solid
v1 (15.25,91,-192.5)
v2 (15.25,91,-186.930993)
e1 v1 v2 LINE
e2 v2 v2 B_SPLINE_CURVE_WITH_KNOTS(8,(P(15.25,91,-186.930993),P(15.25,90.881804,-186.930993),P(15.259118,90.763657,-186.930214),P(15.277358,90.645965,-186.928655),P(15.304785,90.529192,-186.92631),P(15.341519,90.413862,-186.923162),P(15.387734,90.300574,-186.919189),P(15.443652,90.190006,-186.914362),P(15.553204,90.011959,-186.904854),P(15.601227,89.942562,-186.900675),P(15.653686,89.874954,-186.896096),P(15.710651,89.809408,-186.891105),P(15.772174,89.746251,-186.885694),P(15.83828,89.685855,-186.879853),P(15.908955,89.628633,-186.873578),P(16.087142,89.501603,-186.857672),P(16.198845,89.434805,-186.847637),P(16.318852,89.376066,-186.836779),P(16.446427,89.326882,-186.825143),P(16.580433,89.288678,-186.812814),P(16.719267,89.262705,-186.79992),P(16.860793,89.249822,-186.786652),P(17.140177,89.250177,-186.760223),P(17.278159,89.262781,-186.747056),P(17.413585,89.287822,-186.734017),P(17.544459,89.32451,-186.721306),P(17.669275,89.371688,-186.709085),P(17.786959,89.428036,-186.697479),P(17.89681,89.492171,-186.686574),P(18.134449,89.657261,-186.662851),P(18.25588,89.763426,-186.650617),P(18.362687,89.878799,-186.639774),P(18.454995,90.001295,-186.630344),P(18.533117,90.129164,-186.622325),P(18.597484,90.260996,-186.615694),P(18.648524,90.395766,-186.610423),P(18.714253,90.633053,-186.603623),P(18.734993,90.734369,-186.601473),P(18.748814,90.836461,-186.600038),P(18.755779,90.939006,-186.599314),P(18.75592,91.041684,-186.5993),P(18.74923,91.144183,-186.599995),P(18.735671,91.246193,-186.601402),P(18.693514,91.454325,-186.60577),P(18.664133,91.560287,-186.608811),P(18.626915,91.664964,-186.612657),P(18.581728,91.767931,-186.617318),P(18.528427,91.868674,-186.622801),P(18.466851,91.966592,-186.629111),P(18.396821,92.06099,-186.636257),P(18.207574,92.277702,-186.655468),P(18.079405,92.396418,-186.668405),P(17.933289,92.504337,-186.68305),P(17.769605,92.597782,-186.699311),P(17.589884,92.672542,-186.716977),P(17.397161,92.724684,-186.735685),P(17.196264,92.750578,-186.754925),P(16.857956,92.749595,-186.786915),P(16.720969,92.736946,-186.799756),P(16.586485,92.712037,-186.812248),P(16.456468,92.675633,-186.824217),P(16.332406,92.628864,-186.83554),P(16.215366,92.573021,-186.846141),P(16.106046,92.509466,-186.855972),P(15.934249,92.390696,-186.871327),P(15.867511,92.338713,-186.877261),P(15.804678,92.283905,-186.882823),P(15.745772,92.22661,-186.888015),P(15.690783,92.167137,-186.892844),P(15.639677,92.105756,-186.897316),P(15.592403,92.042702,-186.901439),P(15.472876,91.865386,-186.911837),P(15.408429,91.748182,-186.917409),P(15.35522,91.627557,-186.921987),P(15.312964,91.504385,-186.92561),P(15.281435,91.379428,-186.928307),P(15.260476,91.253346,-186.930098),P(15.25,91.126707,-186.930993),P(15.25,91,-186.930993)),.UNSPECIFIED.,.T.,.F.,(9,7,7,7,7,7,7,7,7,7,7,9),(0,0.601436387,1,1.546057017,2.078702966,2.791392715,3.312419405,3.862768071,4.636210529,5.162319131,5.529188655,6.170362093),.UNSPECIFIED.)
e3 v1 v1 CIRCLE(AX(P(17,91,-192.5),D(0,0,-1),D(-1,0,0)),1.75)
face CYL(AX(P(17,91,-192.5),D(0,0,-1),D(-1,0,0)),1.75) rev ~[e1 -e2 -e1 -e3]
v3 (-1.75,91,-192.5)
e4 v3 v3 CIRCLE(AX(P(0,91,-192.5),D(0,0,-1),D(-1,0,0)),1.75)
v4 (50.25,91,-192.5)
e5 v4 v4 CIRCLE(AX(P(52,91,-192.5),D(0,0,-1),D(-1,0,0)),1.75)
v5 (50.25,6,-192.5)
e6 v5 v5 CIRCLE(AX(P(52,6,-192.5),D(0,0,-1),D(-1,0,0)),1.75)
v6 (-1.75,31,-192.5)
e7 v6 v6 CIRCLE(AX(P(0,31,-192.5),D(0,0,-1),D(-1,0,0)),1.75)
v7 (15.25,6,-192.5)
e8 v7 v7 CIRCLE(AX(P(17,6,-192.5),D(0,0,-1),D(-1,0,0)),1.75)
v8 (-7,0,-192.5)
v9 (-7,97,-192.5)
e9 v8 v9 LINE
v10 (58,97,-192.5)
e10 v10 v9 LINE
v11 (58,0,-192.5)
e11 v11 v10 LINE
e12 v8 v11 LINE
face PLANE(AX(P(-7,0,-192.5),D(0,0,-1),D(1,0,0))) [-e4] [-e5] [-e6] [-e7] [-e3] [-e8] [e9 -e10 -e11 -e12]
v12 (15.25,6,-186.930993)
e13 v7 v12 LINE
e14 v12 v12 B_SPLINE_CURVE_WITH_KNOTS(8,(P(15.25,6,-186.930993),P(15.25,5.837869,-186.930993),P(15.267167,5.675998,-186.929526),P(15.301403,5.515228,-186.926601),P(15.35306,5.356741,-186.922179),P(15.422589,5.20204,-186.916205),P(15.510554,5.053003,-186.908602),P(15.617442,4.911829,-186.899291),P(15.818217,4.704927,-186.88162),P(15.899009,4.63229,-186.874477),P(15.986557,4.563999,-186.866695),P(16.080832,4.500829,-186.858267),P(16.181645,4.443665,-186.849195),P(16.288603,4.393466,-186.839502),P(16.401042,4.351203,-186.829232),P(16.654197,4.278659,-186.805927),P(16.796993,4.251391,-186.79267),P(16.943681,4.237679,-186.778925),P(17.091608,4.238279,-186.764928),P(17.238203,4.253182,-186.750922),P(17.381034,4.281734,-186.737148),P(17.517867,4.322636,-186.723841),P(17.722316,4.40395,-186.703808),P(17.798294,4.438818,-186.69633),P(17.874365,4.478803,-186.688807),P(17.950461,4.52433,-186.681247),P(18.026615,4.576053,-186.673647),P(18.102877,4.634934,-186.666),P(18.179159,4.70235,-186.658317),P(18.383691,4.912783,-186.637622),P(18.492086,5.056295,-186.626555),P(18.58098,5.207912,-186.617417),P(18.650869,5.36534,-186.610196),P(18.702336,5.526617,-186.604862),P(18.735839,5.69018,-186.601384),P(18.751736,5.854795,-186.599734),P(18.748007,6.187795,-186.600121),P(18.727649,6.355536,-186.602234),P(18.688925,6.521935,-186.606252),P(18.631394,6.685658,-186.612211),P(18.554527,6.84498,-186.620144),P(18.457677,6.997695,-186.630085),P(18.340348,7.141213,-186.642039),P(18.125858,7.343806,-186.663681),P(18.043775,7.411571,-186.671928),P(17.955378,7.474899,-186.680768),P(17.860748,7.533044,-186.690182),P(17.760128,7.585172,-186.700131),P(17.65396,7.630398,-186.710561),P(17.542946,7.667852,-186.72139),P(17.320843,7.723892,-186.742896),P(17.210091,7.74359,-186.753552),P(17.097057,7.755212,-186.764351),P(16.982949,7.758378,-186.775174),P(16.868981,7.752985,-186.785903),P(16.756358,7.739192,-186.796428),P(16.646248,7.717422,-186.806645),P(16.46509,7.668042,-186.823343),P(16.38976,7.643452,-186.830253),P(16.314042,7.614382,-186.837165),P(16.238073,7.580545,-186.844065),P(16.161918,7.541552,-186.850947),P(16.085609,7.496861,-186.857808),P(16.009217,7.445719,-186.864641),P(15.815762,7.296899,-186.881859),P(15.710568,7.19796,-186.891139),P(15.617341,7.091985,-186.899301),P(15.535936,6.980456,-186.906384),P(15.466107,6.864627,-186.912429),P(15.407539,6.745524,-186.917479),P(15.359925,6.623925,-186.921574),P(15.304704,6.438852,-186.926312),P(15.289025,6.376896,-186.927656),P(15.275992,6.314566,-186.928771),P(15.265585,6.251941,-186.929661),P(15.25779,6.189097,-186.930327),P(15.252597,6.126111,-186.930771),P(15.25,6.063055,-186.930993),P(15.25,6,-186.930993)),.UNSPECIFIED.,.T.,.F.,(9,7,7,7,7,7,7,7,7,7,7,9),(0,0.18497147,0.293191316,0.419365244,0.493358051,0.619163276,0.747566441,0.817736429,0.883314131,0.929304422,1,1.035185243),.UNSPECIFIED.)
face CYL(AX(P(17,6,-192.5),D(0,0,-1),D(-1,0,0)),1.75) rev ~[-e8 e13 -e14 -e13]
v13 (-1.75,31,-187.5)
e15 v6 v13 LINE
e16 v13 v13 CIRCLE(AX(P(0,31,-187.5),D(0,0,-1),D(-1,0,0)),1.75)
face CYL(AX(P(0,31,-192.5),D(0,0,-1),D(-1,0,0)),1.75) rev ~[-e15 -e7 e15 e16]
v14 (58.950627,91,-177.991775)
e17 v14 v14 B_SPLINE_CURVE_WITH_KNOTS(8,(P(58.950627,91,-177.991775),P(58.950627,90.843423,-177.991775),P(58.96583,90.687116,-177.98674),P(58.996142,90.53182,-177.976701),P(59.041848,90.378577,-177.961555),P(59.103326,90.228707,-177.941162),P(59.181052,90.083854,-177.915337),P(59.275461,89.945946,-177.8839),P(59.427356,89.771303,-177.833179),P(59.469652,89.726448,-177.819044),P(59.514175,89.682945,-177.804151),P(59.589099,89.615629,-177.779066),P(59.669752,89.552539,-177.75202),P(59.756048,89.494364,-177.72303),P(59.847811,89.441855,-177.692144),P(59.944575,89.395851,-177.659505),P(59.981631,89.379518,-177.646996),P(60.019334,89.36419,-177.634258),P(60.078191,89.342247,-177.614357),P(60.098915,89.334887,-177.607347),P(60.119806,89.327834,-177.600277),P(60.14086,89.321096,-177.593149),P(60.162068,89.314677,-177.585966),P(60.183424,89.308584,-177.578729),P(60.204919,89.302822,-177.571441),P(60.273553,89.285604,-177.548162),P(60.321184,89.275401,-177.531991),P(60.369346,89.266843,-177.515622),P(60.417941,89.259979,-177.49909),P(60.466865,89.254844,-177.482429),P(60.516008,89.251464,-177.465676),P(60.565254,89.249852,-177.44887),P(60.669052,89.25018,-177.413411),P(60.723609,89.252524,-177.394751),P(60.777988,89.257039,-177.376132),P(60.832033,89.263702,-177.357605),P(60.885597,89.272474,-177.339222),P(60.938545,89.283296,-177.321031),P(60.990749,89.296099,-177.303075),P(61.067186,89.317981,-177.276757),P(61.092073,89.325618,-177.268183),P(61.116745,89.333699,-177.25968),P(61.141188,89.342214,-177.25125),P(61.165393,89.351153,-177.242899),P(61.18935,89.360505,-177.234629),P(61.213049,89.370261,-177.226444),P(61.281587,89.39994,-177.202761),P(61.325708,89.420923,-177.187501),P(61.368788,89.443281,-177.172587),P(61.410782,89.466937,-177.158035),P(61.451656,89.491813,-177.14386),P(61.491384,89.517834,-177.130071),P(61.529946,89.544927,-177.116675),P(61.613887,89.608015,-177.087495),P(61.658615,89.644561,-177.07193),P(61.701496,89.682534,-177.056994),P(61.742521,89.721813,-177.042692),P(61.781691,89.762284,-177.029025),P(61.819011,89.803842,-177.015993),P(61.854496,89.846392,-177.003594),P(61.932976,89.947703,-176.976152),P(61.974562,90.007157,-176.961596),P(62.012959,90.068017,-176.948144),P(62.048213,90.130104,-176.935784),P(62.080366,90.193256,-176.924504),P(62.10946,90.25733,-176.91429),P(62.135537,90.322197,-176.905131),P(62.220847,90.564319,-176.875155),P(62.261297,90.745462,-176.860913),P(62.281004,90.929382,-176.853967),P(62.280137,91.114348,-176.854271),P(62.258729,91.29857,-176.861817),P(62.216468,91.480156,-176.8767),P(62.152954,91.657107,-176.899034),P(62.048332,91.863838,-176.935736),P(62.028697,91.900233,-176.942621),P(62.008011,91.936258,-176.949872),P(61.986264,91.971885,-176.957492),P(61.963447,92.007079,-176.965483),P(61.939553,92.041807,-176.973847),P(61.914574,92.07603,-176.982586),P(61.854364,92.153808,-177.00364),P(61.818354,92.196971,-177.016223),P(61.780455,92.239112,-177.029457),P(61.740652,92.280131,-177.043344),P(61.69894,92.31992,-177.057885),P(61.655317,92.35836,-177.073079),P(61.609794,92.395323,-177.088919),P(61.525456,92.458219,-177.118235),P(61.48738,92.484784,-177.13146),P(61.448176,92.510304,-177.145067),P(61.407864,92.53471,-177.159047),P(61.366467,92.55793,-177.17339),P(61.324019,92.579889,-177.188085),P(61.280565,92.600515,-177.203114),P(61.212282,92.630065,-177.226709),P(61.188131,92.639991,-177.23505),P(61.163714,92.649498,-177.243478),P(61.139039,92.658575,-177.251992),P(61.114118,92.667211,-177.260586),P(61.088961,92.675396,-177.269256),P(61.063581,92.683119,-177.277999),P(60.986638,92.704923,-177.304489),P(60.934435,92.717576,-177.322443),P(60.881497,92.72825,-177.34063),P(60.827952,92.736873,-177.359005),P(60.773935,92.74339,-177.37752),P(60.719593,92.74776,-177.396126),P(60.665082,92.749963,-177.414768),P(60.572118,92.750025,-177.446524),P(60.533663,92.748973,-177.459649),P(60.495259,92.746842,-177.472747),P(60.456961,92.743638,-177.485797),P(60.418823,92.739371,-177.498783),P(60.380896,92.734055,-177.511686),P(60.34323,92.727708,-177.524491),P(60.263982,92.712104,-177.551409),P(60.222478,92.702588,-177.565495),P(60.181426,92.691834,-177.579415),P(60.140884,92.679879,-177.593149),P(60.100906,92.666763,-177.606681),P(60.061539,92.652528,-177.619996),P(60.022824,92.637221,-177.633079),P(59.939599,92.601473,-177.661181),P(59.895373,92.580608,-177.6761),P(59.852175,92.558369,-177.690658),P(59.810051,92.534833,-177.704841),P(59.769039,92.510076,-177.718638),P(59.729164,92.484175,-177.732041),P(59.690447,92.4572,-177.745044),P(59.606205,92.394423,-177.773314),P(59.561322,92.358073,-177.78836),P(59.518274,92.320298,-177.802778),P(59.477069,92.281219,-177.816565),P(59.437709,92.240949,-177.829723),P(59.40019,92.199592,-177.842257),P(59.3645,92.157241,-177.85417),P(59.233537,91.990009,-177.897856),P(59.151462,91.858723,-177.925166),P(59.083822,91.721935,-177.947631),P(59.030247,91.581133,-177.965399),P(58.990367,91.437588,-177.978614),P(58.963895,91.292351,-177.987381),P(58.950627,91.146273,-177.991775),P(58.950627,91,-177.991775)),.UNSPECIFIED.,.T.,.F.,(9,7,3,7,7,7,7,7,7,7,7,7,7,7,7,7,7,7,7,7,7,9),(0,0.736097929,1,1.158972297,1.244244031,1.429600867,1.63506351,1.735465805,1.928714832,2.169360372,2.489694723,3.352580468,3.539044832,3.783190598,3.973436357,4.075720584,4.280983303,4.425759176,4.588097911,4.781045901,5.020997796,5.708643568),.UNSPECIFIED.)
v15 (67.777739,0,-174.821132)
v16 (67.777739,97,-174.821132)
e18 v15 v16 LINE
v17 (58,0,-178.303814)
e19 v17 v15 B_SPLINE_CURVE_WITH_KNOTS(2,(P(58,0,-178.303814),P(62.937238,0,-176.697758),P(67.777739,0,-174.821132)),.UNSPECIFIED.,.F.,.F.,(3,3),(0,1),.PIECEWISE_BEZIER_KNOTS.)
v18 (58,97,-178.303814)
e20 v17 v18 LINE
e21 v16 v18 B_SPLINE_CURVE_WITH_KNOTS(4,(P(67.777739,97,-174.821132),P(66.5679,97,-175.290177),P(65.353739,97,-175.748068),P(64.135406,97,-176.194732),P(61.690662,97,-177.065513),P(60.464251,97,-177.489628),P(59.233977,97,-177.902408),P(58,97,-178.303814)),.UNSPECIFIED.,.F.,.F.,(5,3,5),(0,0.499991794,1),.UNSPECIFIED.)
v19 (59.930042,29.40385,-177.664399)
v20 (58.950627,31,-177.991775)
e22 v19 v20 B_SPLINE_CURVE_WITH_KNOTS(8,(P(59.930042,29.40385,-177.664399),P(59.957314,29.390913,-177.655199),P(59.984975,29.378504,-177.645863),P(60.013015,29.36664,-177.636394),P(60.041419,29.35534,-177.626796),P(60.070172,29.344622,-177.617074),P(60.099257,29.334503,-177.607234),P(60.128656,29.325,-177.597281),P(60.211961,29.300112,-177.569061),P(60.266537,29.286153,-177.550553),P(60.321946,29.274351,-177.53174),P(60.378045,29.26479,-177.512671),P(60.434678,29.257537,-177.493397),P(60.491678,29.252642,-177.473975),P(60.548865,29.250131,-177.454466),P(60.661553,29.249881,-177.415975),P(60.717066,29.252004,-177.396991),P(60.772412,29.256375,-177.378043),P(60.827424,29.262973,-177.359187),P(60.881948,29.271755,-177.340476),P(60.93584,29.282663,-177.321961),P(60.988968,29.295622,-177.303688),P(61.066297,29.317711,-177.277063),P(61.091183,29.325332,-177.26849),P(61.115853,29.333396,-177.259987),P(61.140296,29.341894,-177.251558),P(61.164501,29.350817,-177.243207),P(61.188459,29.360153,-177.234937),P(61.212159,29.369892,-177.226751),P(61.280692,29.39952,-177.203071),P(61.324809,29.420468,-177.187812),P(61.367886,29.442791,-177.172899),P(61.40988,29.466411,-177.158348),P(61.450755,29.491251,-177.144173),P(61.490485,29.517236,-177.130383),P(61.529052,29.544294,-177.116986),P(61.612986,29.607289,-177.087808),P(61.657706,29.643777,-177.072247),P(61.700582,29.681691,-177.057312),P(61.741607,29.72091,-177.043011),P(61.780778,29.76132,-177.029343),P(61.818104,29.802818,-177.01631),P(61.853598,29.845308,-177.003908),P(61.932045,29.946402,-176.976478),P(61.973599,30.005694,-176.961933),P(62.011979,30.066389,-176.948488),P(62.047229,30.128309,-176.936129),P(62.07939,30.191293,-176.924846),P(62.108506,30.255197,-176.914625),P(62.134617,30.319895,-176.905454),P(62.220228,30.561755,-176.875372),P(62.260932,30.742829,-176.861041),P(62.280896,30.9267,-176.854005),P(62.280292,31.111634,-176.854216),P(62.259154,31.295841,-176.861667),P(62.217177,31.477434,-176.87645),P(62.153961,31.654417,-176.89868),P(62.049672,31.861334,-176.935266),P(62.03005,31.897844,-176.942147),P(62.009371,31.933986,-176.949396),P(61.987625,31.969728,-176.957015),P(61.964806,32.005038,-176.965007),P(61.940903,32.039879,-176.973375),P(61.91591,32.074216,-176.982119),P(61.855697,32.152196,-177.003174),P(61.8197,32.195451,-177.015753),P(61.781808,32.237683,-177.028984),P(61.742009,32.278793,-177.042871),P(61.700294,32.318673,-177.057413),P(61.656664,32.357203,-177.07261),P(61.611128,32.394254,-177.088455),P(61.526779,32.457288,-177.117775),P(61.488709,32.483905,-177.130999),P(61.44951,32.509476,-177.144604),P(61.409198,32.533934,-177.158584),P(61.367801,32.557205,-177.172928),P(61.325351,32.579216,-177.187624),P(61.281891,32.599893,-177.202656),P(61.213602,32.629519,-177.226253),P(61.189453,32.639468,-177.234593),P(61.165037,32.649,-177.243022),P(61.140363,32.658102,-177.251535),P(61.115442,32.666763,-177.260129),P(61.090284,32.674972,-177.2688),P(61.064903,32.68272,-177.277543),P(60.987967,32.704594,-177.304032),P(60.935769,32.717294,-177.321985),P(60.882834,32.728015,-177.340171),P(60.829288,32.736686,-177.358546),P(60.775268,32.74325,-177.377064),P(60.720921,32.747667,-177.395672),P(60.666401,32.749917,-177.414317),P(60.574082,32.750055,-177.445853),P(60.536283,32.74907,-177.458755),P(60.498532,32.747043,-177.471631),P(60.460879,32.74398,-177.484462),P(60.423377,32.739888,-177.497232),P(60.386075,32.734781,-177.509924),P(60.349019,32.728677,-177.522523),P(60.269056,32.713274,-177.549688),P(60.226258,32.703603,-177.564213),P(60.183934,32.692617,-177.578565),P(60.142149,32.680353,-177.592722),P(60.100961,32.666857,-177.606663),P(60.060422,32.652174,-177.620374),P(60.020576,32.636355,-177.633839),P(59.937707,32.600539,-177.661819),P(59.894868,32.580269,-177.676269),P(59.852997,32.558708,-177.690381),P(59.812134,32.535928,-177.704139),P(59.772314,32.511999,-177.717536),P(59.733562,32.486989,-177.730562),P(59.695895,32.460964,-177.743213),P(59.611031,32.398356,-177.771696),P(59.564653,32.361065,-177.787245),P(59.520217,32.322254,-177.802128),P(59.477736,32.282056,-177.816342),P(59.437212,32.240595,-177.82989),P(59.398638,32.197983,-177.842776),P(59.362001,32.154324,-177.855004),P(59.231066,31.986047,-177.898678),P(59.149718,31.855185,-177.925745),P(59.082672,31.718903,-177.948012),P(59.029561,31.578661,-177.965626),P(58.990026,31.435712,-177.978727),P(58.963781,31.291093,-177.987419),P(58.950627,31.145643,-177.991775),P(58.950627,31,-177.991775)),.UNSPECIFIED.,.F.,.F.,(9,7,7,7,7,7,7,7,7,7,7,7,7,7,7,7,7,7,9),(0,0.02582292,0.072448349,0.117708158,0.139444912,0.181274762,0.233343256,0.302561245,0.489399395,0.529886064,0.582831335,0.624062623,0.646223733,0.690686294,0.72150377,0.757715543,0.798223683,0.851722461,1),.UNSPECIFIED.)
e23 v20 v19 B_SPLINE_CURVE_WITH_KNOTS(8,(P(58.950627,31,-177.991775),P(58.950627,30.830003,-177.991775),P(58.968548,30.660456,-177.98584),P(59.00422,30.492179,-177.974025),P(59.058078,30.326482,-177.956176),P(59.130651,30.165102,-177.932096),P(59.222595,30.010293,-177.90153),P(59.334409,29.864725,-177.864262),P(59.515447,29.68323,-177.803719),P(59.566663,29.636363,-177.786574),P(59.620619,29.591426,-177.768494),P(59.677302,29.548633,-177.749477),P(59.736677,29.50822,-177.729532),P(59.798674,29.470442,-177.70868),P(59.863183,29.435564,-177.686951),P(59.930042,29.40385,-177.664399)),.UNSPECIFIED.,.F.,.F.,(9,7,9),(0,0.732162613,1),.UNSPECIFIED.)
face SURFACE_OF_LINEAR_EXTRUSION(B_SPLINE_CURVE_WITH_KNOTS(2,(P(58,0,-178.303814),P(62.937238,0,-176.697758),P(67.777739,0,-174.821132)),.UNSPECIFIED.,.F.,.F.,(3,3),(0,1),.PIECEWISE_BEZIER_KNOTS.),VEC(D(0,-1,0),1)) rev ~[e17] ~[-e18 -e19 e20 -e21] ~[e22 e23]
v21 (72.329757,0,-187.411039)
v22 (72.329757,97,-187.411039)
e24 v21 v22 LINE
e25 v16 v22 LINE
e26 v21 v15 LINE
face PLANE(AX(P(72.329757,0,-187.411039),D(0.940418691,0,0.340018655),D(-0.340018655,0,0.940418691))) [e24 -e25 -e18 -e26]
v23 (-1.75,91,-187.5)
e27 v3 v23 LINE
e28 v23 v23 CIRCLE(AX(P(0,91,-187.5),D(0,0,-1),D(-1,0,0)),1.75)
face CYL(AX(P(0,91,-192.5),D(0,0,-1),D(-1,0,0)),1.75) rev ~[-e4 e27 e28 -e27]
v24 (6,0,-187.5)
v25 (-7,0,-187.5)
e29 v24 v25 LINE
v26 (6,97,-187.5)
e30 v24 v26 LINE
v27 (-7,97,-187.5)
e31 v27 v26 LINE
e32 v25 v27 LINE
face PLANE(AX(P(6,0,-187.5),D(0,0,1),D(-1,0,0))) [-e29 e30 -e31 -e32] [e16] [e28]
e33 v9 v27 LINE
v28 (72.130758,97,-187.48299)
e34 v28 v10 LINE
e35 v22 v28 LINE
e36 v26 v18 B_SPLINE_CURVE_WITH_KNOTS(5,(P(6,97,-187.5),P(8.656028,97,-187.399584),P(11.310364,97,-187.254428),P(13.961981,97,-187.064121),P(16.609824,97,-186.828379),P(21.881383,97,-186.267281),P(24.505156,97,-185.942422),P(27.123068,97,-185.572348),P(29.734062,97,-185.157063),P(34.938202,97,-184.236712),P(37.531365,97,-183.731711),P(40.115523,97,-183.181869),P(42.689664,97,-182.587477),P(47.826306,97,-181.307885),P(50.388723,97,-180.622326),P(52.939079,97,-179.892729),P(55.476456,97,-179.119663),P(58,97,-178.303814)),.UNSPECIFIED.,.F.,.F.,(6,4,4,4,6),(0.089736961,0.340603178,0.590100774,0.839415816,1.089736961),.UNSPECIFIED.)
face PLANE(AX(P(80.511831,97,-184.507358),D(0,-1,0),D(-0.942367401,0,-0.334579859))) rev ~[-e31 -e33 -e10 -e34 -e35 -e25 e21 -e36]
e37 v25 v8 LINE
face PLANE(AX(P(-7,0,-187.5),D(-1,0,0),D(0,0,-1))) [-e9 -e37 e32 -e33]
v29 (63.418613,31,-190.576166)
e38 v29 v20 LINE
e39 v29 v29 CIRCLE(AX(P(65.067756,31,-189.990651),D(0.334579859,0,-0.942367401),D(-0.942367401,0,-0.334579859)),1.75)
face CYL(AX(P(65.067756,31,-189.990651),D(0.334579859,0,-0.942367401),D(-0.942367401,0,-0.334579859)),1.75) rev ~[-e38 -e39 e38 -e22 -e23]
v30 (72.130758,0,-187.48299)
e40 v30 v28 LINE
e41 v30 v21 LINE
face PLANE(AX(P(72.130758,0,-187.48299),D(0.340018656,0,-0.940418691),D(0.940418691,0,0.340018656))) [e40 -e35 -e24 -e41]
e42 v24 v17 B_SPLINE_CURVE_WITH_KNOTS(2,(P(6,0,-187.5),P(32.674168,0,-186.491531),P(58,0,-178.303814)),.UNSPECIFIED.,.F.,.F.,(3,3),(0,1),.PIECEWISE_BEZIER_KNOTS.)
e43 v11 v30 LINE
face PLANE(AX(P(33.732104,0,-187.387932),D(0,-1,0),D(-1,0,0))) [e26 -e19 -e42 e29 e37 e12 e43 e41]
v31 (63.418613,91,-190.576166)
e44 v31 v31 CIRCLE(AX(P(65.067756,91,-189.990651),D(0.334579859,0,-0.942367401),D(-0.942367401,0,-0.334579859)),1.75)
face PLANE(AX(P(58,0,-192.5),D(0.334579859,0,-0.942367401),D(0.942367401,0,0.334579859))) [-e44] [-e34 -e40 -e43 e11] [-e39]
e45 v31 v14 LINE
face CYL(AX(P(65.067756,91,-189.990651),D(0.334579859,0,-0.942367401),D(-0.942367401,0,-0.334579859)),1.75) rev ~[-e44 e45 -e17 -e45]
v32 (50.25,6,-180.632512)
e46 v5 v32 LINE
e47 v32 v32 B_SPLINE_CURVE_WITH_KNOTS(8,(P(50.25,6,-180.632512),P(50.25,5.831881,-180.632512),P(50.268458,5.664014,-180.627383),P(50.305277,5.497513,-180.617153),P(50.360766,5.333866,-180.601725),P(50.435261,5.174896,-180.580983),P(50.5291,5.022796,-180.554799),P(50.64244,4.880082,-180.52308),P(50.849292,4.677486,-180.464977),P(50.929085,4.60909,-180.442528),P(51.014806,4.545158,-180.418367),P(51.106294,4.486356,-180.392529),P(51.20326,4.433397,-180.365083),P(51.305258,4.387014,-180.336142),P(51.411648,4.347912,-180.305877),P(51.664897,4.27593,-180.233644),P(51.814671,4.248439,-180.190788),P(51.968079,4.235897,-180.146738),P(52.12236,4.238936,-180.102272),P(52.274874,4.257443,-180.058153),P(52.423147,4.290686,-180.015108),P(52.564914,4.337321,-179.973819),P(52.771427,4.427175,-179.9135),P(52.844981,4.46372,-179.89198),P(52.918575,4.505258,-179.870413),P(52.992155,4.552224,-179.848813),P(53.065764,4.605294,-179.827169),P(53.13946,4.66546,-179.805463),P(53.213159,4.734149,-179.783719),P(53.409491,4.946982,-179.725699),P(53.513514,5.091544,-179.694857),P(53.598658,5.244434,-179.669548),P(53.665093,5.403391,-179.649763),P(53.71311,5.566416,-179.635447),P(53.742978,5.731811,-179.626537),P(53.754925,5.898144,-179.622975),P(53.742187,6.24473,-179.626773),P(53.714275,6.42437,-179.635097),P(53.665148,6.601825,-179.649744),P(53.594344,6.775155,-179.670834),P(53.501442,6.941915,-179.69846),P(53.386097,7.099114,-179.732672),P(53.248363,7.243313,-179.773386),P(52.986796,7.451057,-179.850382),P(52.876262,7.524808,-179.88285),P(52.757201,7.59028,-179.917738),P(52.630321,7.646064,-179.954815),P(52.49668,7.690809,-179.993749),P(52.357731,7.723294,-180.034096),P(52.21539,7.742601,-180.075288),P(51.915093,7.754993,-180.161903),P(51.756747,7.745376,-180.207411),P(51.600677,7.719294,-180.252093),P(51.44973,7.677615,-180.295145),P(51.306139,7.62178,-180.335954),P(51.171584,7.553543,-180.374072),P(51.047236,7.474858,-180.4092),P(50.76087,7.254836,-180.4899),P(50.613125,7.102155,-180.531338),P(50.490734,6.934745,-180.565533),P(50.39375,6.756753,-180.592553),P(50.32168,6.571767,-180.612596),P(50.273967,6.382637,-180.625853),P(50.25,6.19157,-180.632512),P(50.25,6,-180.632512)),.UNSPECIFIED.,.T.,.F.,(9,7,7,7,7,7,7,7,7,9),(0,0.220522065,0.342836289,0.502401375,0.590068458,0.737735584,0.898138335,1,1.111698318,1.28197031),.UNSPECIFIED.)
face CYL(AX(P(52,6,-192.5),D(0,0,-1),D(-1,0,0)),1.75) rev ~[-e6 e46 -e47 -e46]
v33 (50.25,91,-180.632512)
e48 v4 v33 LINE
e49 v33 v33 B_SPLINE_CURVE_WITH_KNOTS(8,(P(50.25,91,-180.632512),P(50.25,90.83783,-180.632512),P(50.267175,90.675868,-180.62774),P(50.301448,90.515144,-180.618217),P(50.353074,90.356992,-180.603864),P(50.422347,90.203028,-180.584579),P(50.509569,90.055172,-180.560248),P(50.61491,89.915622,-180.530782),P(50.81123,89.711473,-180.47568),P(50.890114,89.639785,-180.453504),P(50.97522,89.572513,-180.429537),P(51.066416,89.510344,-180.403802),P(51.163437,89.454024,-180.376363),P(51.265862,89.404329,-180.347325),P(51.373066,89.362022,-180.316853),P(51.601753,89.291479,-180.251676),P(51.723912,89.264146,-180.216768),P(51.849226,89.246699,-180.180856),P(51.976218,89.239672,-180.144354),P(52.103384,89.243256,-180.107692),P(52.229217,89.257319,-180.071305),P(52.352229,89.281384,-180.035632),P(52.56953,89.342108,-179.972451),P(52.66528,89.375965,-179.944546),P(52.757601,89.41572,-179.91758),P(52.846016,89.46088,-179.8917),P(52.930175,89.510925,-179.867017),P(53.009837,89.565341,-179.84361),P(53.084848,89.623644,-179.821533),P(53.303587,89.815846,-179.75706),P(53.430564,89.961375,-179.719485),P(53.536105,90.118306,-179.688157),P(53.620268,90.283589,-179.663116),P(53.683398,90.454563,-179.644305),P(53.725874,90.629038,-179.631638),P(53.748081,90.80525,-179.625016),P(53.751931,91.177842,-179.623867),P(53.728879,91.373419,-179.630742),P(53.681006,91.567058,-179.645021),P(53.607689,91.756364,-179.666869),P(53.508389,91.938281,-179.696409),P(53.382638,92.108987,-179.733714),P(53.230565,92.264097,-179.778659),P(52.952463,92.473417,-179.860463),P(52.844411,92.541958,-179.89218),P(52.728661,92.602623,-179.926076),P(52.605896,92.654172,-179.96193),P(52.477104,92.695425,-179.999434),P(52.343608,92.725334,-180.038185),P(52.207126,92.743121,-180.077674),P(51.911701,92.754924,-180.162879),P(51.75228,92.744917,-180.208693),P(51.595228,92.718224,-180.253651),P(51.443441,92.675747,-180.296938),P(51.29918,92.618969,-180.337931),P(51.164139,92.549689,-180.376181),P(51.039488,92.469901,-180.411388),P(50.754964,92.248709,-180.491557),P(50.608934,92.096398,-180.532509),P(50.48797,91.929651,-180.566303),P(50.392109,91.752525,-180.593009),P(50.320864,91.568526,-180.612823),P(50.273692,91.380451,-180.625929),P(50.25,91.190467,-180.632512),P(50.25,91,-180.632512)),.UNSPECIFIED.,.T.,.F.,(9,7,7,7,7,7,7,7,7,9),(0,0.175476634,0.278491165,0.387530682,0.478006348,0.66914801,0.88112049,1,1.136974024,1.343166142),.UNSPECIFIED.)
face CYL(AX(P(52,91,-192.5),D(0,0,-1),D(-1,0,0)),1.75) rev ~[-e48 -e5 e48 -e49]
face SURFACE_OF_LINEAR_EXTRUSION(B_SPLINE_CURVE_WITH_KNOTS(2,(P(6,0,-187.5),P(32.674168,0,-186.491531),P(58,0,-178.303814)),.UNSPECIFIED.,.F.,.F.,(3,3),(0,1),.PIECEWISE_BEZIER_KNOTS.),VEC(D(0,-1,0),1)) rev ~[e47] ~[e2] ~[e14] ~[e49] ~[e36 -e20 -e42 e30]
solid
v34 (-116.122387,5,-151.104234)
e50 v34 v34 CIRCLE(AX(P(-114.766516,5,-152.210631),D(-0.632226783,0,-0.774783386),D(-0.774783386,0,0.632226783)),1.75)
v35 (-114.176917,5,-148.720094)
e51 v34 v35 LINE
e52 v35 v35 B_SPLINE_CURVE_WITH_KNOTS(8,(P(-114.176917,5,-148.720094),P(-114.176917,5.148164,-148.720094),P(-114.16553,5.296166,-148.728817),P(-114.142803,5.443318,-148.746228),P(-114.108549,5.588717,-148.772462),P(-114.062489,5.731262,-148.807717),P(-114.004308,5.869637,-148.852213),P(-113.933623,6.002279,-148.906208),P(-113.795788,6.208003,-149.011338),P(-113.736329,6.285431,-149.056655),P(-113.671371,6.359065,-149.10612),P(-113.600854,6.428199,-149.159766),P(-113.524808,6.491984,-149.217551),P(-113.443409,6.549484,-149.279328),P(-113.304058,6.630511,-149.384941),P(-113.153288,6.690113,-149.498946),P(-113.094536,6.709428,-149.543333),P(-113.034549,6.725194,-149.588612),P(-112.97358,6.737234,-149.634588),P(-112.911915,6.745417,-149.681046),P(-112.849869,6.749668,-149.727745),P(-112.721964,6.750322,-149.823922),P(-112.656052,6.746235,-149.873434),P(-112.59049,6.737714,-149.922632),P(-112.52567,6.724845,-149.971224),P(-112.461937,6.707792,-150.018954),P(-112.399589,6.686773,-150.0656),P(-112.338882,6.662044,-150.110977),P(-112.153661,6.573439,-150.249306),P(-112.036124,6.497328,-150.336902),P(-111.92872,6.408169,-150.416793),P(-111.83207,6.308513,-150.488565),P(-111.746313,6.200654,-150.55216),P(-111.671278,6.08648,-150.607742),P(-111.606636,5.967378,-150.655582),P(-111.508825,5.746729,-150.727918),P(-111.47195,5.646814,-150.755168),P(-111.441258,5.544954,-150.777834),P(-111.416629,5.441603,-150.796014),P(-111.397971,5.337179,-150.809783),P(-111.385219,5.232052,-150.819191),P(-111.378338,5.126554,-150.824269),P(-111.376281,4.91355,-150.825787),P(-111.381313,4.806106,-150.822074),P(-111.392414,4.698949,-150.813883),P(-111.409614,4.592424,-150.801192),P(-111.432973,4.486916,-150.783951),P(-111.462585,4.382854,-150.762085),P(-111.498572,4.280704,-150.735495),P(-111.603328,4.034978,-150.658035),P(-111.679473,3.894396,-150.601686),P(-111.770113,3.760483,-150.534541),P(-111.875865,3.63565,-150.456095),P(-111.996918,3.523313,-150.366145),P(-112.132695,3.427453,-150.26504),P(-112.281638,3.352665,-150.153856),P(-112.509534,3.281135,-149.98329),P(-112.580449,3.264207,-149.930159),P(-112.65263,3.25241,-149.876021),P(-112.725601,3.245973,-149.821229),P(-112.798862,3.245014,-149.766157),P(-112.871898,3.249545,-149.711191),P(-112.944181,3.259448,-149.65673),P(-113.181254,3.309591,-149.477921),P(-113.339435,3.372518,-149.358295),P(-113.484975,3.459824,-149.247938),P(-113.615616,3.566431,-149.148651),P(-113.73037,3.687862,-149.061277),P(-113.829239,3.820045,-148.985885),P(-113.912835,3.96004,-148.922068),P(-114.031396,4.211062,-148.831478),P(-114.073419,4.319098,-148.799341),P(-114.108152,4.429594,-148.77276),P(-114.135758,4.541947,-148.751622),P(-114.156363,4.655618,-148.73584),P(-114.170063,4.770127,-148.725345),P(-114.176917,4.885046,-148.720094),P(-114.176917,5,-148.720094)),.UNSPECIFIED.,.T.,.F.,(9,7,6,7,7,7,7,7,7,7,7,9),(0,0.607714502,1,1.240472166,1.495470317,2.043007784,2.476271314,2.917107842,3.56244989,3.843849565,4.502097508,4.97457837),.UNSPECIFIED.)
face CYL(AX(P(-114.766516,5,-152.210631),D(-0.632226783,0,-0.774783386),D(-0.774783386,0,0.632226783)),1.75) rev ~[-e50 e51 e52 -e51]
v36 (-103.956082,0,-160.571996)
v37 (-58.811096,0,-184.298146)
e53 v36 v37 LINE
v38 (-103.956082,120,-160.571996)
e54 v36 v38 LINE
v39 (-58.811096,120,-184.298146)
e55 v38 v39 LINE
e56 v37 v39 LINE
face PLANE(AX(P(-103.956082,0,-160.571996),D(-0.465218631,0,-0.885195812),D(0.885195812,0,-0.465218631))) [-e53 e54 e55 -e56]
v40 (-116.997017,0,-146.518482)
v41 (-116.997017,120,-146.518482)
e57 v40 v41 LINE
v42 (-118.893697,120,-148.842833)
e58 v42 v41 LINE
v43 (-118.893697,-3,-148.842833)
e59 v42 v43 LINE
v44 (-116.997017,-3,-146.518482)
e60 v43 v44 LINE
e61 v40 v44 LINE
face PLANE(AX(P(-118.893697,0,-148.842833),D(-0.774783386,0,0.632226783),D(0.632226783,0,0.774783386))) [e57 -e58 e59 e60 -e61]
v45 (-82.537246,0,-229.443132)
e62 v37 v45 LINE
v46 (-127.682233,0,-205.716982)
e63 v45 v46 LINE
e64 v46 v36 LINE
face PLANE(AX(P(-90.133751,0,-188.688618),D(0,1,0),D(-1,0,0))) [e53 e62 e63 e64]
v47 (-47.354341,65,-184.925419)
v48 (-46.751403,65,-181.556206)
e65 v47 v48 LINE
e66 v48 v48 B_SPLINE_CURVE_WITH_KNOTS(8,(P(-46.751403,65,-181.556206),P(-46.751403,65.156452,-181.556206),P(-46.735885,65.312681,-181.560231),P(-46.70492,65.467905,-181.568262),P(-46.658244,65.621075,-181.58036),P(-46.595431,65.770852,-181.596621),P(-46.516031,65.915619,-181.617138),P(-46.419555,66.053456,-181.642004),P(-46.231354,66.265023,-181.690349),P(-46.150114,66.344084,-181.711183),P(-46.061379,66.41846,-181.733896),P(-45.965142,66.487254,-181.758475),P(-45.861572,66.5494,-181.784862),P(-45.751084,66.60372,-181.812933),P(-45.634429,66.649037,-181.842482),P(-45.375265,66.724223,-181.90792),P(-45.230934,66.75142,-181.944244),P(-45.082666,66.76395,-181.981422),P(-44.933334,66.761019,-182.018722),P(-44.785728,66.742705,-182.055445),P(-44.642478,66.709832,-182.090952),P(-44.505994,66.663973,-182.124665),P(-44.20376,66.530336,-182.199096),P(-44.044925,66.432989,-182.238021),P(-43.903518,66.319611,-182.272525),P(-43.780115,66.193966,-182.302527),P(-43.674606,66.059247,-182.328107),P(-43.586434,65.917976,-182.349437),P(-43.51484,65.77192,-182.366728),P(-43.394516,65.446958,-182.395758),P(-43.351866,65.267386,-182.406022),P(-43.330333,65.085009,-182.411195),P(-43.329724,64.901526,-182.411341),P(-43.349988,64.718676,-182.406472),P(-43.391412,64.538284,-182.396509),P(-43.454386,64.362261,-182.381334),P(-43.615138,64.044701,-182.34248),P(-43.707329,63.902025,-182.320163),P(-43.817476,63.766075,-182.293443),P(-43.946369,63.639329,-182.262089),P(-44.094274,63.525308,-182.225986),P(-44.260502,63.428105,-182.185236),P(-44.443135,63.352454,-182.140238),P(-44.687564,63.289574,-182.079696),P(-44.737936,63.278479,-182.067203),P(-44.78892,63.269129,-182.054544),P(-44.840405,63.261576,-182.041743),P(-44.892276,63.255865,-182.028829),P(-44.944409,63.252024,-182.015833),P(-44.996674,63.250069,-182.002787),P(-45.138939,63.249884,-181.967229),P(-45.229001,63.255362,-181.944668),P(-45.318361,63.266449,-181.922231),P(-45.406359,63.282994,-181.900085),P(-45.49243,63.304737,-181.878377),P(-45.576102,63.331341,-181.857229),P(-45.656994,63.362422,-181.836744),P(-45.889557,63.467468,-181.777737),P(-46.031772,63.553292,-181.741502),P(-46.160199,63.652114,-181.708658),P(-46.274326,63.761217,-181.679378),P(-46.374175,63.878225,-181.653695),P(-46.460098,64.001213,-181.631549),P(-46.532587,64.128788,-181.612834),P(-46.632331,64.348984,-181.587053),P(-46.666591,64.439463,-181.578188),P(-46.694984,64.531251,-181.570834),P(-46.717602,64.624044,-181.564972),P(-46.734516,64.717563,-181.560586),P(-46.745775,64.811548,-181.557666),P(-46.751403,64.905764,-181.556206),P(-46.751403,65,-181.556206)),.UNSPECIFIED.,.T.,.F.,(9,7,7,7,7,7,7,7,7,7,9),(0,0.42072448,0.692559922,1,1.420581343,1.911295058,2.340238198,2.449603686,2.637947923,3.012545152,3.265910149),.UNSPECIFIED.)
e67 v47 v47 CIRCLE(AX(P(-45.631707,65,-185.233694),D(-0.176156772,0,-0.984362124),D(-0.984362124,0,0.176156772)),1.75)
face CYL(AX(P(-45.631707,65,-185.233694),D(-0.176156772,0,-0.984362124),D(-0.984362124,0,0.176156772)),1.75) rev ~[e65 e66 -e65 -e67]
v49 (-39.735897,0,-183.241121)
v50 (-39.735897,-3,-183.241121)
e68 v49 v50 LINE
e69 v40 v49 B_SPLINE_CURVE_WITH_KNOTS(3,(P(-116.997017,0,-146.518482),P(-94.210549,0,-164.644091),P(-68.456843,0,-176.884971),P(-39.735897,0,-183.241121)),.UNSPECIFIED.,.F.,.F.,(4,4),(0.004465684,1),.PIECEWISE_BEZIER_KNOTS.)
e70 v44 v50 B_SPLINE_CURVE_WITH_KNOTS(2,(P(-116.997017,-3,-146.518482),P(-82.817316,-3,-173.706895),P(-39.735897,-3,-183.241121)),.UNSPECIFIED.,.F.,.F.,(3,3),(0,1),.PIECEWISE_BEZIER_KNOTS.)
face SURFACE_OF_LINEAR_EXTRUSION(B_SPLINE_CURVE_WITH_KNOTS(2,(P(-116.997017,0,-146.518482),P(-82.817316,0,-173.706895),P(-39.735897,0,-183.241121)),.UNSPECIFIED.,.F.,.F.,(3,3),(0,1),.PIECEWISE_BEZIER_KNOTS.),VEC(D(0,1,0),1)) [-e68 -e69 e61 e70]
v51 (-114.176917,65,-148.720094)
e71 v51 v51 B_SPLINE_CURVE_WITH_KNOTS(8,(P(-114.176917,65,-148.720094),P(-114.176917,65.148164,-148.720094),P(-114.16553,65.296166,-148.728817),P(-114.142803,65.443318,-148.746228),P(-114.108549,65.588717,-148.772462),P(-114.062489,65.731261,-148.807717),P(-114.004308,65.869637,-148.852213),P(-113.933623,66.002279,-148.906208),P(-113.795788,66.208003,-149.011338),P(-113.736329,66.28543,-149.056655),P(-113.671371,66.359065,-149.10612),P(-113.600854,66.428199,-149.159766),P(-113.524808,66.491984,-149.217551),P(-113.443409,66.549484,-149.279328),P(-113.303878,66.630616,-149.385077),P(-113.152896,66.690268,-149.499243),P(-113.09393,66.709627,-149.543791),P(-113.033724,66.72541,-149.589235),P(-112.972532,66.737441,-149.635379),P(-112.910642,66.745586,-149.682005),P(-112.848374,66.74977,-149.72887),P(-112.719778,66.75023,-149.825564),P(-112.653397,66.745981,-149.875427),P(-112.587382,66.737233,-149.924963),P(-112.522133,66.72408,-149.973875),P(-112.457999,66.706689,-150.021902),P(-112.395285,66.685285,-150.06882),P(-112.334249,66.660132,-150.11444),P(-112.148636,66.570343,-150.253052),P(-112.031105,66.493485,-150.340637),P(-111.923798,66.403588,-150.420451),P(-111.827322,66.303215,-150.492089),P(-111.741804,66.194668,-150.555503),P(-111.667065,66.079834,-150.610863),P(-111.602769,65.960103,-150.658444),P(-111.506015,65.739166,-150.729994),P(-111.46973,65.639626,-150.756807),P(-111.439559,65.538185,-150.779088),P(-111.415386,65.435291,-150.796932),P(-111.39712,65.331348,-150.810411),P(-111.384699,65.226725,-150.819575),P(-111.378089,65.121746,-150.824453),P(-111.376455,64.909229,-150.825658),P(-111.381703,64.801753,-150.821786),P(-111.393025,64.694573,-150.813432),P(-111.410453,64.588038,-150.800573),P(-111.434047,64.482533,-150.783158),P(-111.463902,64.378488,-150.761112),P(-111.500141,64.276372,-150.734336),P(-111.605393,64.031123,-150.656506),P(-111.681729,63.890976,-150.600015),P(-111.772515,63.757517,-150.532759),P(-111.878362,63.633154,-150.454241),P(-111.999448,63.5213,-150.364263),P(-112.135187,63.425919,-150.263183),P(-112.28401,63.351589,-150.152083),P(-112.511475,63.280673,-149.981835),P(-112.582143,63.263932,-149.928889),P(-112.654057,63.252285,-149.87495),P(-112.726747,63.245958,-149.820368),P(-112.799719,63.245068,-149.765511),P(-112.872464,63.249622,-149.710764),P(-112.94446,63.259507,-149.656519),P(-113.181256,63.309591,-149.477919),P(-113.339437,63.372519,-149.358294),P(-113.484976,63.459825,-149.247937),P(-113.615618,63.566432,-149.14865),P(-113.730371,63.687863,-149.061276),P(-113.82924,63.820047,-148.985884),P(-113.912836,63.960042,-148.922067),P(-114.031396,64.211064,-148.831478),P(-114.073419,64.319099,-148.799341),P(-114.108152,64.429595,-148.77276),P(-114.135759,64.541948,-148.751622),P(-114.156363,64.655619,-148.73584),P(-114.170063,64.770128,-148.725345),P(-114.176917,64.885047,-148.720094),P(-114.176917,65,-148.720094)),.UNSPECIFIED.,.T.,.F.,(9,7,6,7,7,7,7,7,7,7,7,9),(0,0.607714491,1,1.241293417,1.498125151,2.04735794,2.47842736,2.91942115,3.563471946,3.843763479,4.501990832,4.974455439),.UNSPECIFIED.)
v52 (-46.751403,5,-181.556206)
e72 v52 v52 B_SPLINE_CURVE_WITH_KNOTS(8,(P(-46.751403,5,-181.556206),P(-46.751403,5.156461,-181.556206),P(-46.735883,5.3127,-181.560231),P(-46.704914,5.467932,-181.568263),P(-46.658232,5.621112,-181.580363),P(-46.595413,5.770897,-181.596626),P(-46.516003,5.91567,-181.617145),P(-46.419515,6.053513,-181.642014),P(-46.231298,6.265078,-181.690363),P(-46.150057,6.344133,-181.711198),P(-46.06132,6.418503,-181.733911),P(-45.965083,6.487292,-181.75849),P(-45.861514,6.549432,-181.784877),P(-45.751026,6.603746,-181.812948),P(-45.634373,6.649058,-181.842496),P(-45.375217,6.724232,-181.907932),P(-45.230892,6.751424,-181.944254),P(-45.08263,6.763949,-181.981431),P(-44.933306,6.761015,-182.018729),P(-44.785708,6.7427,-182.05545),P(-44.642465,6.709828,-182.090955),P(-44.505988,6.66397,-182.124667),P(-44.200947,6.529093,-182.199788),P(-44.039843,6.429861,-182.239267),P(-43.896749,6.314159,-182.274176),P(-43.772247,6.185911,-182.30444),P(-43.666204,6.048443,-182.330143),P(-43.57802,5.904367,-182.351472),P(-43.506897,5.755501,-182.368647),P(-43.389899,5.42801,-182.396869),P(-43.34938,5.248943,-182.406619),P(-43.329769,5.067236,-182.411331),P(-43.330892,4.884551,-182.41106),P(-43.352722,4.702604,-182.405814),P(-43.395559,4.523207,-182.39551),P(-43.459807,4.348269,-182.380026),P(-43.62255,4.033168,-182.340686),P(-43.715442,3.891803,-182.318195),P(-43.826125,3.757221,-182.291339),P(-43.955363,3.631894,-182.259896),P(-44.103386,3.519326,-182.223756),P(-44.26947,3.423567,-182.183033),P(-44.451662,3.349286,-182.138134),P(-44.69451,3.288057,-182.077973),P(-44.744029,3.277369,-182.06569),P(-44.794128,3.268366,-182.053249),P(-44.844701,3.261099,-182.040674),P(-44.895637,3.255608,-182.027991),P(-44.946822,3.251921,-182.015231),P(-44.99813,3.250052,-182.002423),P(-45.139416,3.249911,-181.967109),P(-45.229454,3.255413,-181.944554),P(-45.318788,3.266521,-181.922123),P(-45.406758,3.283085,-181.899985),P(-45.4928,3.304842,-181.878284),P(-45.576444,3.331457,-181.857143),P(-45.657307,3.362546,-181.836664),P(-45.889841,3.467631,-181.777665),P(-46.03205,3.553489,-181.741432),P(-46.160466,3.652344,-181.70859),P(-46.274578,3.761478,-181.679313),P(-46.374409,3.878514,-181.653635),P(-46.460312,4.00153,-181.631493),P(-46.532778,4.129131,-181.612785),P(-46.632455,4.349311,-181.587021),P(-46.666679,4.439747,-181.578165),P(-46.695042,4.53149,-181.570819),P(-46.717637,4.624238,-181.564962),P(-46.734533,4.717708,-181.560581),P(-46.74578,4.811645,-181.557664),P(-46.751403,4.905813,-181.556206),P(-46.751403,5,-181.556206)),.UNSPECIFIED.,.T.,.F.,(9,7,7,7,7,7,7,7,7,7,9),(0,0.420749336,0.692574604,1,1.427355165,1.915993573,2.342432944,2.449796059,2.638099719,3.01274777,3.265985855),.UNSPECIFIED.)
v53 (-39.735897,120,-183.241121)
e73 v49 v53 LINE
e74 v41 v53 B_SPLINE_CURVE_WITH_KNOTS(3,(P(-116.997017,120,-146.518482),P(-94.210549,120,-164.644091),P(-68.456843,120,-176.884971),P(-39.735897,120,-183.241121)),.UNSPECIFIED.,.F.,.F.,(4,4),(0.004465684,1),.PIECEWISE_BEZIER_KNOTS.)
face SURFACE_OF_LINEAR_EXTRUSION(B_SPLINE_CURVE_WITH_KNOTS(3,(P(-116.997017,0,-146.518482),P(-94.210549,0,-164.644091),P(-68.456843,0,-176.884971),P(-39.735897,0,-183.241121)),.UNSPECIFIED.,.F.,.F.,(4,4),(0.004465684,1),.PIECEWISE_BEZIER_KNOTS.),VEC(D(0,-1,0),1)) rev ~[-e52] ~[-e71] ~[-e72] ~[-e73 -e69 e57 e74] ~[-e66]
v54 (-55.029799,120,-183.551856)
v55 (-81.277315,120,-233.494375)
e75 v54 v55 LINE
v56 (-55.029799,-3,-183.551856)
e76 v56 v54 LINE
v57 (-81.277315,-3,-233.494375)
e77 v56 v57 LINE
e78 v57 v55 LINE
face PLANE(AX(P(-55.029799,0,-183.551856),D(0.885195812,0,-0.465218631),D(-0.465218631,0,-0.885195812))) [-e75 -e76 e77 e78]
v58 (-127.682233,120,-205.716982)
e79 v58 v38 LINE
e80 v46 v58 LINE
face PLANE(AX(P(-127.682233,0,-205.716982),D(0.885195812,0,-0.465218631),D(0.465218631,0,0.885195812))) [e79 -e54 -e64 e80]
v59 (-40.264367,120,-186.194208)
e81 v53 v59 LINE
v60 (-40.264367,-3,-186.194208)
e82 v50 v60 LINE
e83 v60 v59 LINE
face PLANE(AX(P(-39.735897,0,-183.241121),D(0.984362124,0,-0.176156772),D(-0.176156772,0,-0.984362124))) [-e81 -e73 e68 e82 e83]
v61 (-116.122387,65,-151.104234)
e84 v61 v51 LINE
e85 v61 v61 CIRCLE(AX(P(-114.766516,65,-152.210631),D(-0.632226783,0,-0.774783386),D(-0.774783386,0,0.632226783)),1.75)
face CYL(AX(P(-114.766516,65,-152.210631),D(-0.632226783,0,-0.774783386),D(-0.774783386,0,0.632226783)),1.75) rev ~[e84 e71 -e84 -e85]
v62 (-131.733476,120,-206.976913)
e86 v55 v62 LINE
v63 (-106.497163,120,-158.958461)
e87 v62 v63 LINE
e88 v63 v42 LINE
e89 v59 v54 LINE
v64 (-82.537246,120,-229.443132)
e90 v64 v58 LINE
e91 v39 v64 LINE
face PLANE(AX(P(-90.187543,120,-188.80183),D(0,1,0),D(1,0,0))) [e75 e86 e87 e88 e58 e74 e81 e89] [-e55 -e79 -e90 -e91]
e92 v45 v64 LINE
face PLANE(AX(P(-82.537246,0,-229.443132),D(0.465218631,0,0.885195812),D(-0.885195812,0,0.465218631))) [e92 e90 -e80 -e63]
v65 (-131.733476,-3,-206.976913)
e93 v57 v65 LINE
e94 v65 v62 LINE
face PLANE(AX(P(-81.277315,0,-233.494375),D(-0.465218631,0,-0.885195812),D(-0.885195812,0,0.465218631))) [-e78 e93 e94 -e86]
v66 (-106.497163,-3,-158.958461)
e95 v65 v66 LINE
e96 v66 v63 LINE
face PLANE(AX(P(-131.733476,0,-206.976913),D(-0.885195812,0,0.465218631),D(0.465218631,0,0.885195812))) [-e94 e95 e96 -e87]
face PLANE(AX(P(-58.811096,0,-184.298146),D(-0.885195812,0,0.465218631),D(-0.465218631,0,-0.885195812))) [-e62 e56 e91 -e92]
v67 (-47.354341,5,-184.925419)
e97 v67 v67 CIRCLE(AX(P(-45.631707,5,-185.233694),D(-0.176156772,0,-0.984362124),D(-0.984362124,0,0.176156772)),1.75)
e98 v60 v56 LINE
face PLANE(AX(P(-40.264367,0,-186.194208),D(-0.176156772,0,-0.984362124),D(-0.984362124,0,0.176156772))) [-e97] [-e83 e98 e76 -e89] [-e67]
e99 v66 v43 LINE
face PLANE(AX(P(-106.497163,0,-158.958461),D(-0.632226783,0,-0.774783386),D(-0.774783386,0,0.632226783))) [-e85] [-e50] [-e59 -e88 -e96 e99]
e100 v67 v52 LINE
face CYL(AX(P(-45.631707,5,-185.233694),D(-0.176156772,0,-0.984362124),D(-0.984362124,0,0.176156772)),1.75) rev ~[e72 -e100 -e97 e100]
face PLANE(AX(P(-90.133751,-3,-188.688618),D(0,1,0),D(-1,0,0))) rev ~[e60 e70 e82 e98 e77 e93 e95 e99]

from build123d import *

# Parameters (mm, degrees)
BOSS_EXTRUDE1_DEPTH   = 120
BOSS_EXTRUDE1_2_DEPTH = 120
BOSS_EXTRUDE2_DEPTH   = 3
SKETCH4_R             = 1.75
CUT_EXTRUDE1_DEPTH    = 10
SKETCH6_R             = 1.75
CUT_EXTRUDE2_DEPTH    = 10
SKETCH7_R             = 1.75
SKETCH7_W             = 65
SKETCH7_H             = 23
CUT_EXTRUDE3_DEPTH    = 20
SKETCH8_R             = 1.75
CUT_EXTRUDE4_DEPTH    = 20


with BuildPart() as part:
    # Sketch2 → Boss-Extrude1 (new body)
    with BuildSketch(Plane(origin=(0, 0, 0), x_dir=(1, 0, 0), z_dir=(0, 1, 0))):
        with BuildLine():
            Line((-131.733475868, 206.976913464), (-106.497162739, 158.958461077))
            Line((-106.497162739, 158.958461077), (-118.893696917, 148.842832556))
            Line((-118.893696917, 148.842832556), (-116.997016569, 146.518482397))
            add(Edge.make_bspline(
                [(-116.997016569, 146.518482397), (-94.210549236, 164.644091032), (-68.45684277, 176.884970613), (-39.735897173, 183.241121138)],
                knots=[0.004465684, 0.004465684, 0.004465684, 0.004465684, 1, 1, 1, 1], degree=3))
            Line((-39.735897173, 183.241121138), (-40.26436749, 186.19420751))
            Line((-40.26436749, 186.19420751), (-55.029799353, 183.551855925))
            Line((-55.029799353, 183.551855925), (-81.277314594, 233.494375438))
            Line((-81.277314594, 233.494375438), (-131.733475868, 206.976913464))
        make_face()
        Polygon((-103.956082352, 160.571995519), (-58.81109595, 184.298145706), (-82.537246136, 229.443132109), (-127.682232539, 205.716981922), align=None, mode=Mode.SUBTRACT)
    extrude(amount=BOSS_EXTRUDE1_DEPTH)

    # Sketch5 → Boss-Extrude2 (add)
    with BuildSketch(Plane.XZ):
        with BuildLine():
            Line((-39.735897173, -183.241121138), (-40.26436749, -186.19420751))
            Line((-40.26436749, -186.19420751), (-55.029799353, -183.551855925))
            Line((-55.029799353, -183.551855925), (-81.277314594, -233.494375438))
            Line((-81.277314594, -233.494375438), (-131.733475868, -206.976913464))
            Line((-131.733475868, -206.976913464), (-106.497162739, -158.958461077))
            Line((-106.497162739, -158.958461077), (-118.893696917, -148.842832556))
            Line((-118.893696917, -148.842832556), (-116.997016569, -146.518482397))
            add(Edge.make_bspline(
                [(-116.997016569, -146.518482397), (-82.81731557, -173.70689535), (-39.735897173, -183.241121138)],
                knots=[0, 0, 0, 1, 1, 1], degree=2))
        make_face()
    extrude(amount=BOSS_EXTRUDE2_DEPTH)

    # Sketch4 → Cut-Extrude1 (cut)
    with BuildSketch(Plane(origin=(-120.432078952, 0, -147.587505787), x_dir=(-0.7747833861287918, 0, 0.6322267825541745), z_dir=(-0.6322267825541745, 0, -0.7747833861287918))):
        with Locations((-7.312447943, 5)):
            Circle(SKETCH4_R)
        with Locations((-7.312447943, 65)):
            Circle(SKETCH4_R)
    extrude(amount=-CUT_EXTRUDE1_DEPTH, mode=Mode.SUBTRACT)

    # Sketch6 → Cut-Extrude2 (cut)
    with BuildSketch(Plane(origin=(-33.535910128, 0, -187.398300296), x_dir=(-0.9843621241914816, 0, 0.17615677238537933), z_dir=(-0.1761567723853793, 0, -0.9843621241914815))):
        with Locations((12.287954794, 65)):
            Circle(SKETCH6_R)
        with Locations((12.287954794, 5)):
            Circle(SKETCH6_R)
    extrude(amount=-CUT_EXTRUDE2_DEPTH, mode=Mode.SUBTRACT)


with BuildPart() as body_2:
    # Sketch2 → Boss-Extrude1 2 (new body)
    with BuildSketch(Plane(origin=(0, 0, 0), x_dir=(1, 0, 0), z_dir=(0, 1, 0))):
        with BuildLine():
            Line((7.497222042, 192.5), (58, 192.5))
            Line((58, 192.5), (72.130758111, 187.482989601))
            Line((72.130758111, 187.482989601), (72.329757157, 187.411039321))
            Line((72.329757157, 187.411039321), (67.777738536, 174.8211319))
            add(Edge.make_bspline(
                [(58, 178.303813756), (62.937238269, 176.697757749), (67.777738536, 174.8211319)],
                knots=[0, 0, 0, 1, 1, 1], degree=2))
            add(Edge.make_bspline(
                [(6, 187.5), (32.674168427, 186.491531402), (58, 178.303813756)],
                knots=[0, 0, 0, 1, 1, 1], degree=2))
            Line((6, 187.5), (-7, 187.5))
            Line((-7, 187.5), (-7, 192.5))
            Line((-7, 192.5), (7.497222042, 192.5))
        make_face()
    extrude(amount=BOSS_EXTRUDE1_2_DEPTH)

    # Sketch7 → Cut-Extrude3 (cut)
    with BuildSketch(Plane(origin=(0, 0, -192.5), x_dir=(-1, 0, 0), z_dir=(0, 0, -1))):
        with Locations((-17, 6)):
            Circle(SKETCH7_R)
        with Locations((-52, 6)):
            Circle(SKETCH7_R)
        with Locations((-17, 91)):
            Circle(SKETCH7_R)
        with Locations((-52, 91)):
            Circle(SKETCH7_R)
        with Locations((0, 31)):
            Circle(SKETCH7_R)
        with Locations((0, 91)):
            Circle(SKETCH7_R)
        with Locations((-25.5, 108.5)):
            Rectangle(SKETCH7_W, SKETCH7_H)
    extrude(amount=-CUT_EXTRUDE3_DEPTH, mode=Mode.SUBTRACT)

    # Sketch8 → Cut-Extrude4 (cut)
    with BuildSketch(Plane(origin=(67.187435243, 0, -189.238076061), x_dir=(-0.9423674008829427, 0, -0.33457985855865147), z_dir=(0.33457985855865147, 0, -0.9423674008829428))):
        with Locations((2.249313521, 31)):
            Circle(SKETCH8_R)
        with Locations((2.249313521, 91)):
            Circle(SKETCH8_R)
        Polygon((9.749313521, 97), (-5.245642901, 97), (-14.139279105, 97), (-14.139279105, 120), (-5.245642901, 120), (9.749313521, 120), align=None)
    extrude(amount=-CUT_EXTRUDE4_DEPTH, mode=Mode.SUBTRACT)


solid = Compound([part.part, body_2.part])
